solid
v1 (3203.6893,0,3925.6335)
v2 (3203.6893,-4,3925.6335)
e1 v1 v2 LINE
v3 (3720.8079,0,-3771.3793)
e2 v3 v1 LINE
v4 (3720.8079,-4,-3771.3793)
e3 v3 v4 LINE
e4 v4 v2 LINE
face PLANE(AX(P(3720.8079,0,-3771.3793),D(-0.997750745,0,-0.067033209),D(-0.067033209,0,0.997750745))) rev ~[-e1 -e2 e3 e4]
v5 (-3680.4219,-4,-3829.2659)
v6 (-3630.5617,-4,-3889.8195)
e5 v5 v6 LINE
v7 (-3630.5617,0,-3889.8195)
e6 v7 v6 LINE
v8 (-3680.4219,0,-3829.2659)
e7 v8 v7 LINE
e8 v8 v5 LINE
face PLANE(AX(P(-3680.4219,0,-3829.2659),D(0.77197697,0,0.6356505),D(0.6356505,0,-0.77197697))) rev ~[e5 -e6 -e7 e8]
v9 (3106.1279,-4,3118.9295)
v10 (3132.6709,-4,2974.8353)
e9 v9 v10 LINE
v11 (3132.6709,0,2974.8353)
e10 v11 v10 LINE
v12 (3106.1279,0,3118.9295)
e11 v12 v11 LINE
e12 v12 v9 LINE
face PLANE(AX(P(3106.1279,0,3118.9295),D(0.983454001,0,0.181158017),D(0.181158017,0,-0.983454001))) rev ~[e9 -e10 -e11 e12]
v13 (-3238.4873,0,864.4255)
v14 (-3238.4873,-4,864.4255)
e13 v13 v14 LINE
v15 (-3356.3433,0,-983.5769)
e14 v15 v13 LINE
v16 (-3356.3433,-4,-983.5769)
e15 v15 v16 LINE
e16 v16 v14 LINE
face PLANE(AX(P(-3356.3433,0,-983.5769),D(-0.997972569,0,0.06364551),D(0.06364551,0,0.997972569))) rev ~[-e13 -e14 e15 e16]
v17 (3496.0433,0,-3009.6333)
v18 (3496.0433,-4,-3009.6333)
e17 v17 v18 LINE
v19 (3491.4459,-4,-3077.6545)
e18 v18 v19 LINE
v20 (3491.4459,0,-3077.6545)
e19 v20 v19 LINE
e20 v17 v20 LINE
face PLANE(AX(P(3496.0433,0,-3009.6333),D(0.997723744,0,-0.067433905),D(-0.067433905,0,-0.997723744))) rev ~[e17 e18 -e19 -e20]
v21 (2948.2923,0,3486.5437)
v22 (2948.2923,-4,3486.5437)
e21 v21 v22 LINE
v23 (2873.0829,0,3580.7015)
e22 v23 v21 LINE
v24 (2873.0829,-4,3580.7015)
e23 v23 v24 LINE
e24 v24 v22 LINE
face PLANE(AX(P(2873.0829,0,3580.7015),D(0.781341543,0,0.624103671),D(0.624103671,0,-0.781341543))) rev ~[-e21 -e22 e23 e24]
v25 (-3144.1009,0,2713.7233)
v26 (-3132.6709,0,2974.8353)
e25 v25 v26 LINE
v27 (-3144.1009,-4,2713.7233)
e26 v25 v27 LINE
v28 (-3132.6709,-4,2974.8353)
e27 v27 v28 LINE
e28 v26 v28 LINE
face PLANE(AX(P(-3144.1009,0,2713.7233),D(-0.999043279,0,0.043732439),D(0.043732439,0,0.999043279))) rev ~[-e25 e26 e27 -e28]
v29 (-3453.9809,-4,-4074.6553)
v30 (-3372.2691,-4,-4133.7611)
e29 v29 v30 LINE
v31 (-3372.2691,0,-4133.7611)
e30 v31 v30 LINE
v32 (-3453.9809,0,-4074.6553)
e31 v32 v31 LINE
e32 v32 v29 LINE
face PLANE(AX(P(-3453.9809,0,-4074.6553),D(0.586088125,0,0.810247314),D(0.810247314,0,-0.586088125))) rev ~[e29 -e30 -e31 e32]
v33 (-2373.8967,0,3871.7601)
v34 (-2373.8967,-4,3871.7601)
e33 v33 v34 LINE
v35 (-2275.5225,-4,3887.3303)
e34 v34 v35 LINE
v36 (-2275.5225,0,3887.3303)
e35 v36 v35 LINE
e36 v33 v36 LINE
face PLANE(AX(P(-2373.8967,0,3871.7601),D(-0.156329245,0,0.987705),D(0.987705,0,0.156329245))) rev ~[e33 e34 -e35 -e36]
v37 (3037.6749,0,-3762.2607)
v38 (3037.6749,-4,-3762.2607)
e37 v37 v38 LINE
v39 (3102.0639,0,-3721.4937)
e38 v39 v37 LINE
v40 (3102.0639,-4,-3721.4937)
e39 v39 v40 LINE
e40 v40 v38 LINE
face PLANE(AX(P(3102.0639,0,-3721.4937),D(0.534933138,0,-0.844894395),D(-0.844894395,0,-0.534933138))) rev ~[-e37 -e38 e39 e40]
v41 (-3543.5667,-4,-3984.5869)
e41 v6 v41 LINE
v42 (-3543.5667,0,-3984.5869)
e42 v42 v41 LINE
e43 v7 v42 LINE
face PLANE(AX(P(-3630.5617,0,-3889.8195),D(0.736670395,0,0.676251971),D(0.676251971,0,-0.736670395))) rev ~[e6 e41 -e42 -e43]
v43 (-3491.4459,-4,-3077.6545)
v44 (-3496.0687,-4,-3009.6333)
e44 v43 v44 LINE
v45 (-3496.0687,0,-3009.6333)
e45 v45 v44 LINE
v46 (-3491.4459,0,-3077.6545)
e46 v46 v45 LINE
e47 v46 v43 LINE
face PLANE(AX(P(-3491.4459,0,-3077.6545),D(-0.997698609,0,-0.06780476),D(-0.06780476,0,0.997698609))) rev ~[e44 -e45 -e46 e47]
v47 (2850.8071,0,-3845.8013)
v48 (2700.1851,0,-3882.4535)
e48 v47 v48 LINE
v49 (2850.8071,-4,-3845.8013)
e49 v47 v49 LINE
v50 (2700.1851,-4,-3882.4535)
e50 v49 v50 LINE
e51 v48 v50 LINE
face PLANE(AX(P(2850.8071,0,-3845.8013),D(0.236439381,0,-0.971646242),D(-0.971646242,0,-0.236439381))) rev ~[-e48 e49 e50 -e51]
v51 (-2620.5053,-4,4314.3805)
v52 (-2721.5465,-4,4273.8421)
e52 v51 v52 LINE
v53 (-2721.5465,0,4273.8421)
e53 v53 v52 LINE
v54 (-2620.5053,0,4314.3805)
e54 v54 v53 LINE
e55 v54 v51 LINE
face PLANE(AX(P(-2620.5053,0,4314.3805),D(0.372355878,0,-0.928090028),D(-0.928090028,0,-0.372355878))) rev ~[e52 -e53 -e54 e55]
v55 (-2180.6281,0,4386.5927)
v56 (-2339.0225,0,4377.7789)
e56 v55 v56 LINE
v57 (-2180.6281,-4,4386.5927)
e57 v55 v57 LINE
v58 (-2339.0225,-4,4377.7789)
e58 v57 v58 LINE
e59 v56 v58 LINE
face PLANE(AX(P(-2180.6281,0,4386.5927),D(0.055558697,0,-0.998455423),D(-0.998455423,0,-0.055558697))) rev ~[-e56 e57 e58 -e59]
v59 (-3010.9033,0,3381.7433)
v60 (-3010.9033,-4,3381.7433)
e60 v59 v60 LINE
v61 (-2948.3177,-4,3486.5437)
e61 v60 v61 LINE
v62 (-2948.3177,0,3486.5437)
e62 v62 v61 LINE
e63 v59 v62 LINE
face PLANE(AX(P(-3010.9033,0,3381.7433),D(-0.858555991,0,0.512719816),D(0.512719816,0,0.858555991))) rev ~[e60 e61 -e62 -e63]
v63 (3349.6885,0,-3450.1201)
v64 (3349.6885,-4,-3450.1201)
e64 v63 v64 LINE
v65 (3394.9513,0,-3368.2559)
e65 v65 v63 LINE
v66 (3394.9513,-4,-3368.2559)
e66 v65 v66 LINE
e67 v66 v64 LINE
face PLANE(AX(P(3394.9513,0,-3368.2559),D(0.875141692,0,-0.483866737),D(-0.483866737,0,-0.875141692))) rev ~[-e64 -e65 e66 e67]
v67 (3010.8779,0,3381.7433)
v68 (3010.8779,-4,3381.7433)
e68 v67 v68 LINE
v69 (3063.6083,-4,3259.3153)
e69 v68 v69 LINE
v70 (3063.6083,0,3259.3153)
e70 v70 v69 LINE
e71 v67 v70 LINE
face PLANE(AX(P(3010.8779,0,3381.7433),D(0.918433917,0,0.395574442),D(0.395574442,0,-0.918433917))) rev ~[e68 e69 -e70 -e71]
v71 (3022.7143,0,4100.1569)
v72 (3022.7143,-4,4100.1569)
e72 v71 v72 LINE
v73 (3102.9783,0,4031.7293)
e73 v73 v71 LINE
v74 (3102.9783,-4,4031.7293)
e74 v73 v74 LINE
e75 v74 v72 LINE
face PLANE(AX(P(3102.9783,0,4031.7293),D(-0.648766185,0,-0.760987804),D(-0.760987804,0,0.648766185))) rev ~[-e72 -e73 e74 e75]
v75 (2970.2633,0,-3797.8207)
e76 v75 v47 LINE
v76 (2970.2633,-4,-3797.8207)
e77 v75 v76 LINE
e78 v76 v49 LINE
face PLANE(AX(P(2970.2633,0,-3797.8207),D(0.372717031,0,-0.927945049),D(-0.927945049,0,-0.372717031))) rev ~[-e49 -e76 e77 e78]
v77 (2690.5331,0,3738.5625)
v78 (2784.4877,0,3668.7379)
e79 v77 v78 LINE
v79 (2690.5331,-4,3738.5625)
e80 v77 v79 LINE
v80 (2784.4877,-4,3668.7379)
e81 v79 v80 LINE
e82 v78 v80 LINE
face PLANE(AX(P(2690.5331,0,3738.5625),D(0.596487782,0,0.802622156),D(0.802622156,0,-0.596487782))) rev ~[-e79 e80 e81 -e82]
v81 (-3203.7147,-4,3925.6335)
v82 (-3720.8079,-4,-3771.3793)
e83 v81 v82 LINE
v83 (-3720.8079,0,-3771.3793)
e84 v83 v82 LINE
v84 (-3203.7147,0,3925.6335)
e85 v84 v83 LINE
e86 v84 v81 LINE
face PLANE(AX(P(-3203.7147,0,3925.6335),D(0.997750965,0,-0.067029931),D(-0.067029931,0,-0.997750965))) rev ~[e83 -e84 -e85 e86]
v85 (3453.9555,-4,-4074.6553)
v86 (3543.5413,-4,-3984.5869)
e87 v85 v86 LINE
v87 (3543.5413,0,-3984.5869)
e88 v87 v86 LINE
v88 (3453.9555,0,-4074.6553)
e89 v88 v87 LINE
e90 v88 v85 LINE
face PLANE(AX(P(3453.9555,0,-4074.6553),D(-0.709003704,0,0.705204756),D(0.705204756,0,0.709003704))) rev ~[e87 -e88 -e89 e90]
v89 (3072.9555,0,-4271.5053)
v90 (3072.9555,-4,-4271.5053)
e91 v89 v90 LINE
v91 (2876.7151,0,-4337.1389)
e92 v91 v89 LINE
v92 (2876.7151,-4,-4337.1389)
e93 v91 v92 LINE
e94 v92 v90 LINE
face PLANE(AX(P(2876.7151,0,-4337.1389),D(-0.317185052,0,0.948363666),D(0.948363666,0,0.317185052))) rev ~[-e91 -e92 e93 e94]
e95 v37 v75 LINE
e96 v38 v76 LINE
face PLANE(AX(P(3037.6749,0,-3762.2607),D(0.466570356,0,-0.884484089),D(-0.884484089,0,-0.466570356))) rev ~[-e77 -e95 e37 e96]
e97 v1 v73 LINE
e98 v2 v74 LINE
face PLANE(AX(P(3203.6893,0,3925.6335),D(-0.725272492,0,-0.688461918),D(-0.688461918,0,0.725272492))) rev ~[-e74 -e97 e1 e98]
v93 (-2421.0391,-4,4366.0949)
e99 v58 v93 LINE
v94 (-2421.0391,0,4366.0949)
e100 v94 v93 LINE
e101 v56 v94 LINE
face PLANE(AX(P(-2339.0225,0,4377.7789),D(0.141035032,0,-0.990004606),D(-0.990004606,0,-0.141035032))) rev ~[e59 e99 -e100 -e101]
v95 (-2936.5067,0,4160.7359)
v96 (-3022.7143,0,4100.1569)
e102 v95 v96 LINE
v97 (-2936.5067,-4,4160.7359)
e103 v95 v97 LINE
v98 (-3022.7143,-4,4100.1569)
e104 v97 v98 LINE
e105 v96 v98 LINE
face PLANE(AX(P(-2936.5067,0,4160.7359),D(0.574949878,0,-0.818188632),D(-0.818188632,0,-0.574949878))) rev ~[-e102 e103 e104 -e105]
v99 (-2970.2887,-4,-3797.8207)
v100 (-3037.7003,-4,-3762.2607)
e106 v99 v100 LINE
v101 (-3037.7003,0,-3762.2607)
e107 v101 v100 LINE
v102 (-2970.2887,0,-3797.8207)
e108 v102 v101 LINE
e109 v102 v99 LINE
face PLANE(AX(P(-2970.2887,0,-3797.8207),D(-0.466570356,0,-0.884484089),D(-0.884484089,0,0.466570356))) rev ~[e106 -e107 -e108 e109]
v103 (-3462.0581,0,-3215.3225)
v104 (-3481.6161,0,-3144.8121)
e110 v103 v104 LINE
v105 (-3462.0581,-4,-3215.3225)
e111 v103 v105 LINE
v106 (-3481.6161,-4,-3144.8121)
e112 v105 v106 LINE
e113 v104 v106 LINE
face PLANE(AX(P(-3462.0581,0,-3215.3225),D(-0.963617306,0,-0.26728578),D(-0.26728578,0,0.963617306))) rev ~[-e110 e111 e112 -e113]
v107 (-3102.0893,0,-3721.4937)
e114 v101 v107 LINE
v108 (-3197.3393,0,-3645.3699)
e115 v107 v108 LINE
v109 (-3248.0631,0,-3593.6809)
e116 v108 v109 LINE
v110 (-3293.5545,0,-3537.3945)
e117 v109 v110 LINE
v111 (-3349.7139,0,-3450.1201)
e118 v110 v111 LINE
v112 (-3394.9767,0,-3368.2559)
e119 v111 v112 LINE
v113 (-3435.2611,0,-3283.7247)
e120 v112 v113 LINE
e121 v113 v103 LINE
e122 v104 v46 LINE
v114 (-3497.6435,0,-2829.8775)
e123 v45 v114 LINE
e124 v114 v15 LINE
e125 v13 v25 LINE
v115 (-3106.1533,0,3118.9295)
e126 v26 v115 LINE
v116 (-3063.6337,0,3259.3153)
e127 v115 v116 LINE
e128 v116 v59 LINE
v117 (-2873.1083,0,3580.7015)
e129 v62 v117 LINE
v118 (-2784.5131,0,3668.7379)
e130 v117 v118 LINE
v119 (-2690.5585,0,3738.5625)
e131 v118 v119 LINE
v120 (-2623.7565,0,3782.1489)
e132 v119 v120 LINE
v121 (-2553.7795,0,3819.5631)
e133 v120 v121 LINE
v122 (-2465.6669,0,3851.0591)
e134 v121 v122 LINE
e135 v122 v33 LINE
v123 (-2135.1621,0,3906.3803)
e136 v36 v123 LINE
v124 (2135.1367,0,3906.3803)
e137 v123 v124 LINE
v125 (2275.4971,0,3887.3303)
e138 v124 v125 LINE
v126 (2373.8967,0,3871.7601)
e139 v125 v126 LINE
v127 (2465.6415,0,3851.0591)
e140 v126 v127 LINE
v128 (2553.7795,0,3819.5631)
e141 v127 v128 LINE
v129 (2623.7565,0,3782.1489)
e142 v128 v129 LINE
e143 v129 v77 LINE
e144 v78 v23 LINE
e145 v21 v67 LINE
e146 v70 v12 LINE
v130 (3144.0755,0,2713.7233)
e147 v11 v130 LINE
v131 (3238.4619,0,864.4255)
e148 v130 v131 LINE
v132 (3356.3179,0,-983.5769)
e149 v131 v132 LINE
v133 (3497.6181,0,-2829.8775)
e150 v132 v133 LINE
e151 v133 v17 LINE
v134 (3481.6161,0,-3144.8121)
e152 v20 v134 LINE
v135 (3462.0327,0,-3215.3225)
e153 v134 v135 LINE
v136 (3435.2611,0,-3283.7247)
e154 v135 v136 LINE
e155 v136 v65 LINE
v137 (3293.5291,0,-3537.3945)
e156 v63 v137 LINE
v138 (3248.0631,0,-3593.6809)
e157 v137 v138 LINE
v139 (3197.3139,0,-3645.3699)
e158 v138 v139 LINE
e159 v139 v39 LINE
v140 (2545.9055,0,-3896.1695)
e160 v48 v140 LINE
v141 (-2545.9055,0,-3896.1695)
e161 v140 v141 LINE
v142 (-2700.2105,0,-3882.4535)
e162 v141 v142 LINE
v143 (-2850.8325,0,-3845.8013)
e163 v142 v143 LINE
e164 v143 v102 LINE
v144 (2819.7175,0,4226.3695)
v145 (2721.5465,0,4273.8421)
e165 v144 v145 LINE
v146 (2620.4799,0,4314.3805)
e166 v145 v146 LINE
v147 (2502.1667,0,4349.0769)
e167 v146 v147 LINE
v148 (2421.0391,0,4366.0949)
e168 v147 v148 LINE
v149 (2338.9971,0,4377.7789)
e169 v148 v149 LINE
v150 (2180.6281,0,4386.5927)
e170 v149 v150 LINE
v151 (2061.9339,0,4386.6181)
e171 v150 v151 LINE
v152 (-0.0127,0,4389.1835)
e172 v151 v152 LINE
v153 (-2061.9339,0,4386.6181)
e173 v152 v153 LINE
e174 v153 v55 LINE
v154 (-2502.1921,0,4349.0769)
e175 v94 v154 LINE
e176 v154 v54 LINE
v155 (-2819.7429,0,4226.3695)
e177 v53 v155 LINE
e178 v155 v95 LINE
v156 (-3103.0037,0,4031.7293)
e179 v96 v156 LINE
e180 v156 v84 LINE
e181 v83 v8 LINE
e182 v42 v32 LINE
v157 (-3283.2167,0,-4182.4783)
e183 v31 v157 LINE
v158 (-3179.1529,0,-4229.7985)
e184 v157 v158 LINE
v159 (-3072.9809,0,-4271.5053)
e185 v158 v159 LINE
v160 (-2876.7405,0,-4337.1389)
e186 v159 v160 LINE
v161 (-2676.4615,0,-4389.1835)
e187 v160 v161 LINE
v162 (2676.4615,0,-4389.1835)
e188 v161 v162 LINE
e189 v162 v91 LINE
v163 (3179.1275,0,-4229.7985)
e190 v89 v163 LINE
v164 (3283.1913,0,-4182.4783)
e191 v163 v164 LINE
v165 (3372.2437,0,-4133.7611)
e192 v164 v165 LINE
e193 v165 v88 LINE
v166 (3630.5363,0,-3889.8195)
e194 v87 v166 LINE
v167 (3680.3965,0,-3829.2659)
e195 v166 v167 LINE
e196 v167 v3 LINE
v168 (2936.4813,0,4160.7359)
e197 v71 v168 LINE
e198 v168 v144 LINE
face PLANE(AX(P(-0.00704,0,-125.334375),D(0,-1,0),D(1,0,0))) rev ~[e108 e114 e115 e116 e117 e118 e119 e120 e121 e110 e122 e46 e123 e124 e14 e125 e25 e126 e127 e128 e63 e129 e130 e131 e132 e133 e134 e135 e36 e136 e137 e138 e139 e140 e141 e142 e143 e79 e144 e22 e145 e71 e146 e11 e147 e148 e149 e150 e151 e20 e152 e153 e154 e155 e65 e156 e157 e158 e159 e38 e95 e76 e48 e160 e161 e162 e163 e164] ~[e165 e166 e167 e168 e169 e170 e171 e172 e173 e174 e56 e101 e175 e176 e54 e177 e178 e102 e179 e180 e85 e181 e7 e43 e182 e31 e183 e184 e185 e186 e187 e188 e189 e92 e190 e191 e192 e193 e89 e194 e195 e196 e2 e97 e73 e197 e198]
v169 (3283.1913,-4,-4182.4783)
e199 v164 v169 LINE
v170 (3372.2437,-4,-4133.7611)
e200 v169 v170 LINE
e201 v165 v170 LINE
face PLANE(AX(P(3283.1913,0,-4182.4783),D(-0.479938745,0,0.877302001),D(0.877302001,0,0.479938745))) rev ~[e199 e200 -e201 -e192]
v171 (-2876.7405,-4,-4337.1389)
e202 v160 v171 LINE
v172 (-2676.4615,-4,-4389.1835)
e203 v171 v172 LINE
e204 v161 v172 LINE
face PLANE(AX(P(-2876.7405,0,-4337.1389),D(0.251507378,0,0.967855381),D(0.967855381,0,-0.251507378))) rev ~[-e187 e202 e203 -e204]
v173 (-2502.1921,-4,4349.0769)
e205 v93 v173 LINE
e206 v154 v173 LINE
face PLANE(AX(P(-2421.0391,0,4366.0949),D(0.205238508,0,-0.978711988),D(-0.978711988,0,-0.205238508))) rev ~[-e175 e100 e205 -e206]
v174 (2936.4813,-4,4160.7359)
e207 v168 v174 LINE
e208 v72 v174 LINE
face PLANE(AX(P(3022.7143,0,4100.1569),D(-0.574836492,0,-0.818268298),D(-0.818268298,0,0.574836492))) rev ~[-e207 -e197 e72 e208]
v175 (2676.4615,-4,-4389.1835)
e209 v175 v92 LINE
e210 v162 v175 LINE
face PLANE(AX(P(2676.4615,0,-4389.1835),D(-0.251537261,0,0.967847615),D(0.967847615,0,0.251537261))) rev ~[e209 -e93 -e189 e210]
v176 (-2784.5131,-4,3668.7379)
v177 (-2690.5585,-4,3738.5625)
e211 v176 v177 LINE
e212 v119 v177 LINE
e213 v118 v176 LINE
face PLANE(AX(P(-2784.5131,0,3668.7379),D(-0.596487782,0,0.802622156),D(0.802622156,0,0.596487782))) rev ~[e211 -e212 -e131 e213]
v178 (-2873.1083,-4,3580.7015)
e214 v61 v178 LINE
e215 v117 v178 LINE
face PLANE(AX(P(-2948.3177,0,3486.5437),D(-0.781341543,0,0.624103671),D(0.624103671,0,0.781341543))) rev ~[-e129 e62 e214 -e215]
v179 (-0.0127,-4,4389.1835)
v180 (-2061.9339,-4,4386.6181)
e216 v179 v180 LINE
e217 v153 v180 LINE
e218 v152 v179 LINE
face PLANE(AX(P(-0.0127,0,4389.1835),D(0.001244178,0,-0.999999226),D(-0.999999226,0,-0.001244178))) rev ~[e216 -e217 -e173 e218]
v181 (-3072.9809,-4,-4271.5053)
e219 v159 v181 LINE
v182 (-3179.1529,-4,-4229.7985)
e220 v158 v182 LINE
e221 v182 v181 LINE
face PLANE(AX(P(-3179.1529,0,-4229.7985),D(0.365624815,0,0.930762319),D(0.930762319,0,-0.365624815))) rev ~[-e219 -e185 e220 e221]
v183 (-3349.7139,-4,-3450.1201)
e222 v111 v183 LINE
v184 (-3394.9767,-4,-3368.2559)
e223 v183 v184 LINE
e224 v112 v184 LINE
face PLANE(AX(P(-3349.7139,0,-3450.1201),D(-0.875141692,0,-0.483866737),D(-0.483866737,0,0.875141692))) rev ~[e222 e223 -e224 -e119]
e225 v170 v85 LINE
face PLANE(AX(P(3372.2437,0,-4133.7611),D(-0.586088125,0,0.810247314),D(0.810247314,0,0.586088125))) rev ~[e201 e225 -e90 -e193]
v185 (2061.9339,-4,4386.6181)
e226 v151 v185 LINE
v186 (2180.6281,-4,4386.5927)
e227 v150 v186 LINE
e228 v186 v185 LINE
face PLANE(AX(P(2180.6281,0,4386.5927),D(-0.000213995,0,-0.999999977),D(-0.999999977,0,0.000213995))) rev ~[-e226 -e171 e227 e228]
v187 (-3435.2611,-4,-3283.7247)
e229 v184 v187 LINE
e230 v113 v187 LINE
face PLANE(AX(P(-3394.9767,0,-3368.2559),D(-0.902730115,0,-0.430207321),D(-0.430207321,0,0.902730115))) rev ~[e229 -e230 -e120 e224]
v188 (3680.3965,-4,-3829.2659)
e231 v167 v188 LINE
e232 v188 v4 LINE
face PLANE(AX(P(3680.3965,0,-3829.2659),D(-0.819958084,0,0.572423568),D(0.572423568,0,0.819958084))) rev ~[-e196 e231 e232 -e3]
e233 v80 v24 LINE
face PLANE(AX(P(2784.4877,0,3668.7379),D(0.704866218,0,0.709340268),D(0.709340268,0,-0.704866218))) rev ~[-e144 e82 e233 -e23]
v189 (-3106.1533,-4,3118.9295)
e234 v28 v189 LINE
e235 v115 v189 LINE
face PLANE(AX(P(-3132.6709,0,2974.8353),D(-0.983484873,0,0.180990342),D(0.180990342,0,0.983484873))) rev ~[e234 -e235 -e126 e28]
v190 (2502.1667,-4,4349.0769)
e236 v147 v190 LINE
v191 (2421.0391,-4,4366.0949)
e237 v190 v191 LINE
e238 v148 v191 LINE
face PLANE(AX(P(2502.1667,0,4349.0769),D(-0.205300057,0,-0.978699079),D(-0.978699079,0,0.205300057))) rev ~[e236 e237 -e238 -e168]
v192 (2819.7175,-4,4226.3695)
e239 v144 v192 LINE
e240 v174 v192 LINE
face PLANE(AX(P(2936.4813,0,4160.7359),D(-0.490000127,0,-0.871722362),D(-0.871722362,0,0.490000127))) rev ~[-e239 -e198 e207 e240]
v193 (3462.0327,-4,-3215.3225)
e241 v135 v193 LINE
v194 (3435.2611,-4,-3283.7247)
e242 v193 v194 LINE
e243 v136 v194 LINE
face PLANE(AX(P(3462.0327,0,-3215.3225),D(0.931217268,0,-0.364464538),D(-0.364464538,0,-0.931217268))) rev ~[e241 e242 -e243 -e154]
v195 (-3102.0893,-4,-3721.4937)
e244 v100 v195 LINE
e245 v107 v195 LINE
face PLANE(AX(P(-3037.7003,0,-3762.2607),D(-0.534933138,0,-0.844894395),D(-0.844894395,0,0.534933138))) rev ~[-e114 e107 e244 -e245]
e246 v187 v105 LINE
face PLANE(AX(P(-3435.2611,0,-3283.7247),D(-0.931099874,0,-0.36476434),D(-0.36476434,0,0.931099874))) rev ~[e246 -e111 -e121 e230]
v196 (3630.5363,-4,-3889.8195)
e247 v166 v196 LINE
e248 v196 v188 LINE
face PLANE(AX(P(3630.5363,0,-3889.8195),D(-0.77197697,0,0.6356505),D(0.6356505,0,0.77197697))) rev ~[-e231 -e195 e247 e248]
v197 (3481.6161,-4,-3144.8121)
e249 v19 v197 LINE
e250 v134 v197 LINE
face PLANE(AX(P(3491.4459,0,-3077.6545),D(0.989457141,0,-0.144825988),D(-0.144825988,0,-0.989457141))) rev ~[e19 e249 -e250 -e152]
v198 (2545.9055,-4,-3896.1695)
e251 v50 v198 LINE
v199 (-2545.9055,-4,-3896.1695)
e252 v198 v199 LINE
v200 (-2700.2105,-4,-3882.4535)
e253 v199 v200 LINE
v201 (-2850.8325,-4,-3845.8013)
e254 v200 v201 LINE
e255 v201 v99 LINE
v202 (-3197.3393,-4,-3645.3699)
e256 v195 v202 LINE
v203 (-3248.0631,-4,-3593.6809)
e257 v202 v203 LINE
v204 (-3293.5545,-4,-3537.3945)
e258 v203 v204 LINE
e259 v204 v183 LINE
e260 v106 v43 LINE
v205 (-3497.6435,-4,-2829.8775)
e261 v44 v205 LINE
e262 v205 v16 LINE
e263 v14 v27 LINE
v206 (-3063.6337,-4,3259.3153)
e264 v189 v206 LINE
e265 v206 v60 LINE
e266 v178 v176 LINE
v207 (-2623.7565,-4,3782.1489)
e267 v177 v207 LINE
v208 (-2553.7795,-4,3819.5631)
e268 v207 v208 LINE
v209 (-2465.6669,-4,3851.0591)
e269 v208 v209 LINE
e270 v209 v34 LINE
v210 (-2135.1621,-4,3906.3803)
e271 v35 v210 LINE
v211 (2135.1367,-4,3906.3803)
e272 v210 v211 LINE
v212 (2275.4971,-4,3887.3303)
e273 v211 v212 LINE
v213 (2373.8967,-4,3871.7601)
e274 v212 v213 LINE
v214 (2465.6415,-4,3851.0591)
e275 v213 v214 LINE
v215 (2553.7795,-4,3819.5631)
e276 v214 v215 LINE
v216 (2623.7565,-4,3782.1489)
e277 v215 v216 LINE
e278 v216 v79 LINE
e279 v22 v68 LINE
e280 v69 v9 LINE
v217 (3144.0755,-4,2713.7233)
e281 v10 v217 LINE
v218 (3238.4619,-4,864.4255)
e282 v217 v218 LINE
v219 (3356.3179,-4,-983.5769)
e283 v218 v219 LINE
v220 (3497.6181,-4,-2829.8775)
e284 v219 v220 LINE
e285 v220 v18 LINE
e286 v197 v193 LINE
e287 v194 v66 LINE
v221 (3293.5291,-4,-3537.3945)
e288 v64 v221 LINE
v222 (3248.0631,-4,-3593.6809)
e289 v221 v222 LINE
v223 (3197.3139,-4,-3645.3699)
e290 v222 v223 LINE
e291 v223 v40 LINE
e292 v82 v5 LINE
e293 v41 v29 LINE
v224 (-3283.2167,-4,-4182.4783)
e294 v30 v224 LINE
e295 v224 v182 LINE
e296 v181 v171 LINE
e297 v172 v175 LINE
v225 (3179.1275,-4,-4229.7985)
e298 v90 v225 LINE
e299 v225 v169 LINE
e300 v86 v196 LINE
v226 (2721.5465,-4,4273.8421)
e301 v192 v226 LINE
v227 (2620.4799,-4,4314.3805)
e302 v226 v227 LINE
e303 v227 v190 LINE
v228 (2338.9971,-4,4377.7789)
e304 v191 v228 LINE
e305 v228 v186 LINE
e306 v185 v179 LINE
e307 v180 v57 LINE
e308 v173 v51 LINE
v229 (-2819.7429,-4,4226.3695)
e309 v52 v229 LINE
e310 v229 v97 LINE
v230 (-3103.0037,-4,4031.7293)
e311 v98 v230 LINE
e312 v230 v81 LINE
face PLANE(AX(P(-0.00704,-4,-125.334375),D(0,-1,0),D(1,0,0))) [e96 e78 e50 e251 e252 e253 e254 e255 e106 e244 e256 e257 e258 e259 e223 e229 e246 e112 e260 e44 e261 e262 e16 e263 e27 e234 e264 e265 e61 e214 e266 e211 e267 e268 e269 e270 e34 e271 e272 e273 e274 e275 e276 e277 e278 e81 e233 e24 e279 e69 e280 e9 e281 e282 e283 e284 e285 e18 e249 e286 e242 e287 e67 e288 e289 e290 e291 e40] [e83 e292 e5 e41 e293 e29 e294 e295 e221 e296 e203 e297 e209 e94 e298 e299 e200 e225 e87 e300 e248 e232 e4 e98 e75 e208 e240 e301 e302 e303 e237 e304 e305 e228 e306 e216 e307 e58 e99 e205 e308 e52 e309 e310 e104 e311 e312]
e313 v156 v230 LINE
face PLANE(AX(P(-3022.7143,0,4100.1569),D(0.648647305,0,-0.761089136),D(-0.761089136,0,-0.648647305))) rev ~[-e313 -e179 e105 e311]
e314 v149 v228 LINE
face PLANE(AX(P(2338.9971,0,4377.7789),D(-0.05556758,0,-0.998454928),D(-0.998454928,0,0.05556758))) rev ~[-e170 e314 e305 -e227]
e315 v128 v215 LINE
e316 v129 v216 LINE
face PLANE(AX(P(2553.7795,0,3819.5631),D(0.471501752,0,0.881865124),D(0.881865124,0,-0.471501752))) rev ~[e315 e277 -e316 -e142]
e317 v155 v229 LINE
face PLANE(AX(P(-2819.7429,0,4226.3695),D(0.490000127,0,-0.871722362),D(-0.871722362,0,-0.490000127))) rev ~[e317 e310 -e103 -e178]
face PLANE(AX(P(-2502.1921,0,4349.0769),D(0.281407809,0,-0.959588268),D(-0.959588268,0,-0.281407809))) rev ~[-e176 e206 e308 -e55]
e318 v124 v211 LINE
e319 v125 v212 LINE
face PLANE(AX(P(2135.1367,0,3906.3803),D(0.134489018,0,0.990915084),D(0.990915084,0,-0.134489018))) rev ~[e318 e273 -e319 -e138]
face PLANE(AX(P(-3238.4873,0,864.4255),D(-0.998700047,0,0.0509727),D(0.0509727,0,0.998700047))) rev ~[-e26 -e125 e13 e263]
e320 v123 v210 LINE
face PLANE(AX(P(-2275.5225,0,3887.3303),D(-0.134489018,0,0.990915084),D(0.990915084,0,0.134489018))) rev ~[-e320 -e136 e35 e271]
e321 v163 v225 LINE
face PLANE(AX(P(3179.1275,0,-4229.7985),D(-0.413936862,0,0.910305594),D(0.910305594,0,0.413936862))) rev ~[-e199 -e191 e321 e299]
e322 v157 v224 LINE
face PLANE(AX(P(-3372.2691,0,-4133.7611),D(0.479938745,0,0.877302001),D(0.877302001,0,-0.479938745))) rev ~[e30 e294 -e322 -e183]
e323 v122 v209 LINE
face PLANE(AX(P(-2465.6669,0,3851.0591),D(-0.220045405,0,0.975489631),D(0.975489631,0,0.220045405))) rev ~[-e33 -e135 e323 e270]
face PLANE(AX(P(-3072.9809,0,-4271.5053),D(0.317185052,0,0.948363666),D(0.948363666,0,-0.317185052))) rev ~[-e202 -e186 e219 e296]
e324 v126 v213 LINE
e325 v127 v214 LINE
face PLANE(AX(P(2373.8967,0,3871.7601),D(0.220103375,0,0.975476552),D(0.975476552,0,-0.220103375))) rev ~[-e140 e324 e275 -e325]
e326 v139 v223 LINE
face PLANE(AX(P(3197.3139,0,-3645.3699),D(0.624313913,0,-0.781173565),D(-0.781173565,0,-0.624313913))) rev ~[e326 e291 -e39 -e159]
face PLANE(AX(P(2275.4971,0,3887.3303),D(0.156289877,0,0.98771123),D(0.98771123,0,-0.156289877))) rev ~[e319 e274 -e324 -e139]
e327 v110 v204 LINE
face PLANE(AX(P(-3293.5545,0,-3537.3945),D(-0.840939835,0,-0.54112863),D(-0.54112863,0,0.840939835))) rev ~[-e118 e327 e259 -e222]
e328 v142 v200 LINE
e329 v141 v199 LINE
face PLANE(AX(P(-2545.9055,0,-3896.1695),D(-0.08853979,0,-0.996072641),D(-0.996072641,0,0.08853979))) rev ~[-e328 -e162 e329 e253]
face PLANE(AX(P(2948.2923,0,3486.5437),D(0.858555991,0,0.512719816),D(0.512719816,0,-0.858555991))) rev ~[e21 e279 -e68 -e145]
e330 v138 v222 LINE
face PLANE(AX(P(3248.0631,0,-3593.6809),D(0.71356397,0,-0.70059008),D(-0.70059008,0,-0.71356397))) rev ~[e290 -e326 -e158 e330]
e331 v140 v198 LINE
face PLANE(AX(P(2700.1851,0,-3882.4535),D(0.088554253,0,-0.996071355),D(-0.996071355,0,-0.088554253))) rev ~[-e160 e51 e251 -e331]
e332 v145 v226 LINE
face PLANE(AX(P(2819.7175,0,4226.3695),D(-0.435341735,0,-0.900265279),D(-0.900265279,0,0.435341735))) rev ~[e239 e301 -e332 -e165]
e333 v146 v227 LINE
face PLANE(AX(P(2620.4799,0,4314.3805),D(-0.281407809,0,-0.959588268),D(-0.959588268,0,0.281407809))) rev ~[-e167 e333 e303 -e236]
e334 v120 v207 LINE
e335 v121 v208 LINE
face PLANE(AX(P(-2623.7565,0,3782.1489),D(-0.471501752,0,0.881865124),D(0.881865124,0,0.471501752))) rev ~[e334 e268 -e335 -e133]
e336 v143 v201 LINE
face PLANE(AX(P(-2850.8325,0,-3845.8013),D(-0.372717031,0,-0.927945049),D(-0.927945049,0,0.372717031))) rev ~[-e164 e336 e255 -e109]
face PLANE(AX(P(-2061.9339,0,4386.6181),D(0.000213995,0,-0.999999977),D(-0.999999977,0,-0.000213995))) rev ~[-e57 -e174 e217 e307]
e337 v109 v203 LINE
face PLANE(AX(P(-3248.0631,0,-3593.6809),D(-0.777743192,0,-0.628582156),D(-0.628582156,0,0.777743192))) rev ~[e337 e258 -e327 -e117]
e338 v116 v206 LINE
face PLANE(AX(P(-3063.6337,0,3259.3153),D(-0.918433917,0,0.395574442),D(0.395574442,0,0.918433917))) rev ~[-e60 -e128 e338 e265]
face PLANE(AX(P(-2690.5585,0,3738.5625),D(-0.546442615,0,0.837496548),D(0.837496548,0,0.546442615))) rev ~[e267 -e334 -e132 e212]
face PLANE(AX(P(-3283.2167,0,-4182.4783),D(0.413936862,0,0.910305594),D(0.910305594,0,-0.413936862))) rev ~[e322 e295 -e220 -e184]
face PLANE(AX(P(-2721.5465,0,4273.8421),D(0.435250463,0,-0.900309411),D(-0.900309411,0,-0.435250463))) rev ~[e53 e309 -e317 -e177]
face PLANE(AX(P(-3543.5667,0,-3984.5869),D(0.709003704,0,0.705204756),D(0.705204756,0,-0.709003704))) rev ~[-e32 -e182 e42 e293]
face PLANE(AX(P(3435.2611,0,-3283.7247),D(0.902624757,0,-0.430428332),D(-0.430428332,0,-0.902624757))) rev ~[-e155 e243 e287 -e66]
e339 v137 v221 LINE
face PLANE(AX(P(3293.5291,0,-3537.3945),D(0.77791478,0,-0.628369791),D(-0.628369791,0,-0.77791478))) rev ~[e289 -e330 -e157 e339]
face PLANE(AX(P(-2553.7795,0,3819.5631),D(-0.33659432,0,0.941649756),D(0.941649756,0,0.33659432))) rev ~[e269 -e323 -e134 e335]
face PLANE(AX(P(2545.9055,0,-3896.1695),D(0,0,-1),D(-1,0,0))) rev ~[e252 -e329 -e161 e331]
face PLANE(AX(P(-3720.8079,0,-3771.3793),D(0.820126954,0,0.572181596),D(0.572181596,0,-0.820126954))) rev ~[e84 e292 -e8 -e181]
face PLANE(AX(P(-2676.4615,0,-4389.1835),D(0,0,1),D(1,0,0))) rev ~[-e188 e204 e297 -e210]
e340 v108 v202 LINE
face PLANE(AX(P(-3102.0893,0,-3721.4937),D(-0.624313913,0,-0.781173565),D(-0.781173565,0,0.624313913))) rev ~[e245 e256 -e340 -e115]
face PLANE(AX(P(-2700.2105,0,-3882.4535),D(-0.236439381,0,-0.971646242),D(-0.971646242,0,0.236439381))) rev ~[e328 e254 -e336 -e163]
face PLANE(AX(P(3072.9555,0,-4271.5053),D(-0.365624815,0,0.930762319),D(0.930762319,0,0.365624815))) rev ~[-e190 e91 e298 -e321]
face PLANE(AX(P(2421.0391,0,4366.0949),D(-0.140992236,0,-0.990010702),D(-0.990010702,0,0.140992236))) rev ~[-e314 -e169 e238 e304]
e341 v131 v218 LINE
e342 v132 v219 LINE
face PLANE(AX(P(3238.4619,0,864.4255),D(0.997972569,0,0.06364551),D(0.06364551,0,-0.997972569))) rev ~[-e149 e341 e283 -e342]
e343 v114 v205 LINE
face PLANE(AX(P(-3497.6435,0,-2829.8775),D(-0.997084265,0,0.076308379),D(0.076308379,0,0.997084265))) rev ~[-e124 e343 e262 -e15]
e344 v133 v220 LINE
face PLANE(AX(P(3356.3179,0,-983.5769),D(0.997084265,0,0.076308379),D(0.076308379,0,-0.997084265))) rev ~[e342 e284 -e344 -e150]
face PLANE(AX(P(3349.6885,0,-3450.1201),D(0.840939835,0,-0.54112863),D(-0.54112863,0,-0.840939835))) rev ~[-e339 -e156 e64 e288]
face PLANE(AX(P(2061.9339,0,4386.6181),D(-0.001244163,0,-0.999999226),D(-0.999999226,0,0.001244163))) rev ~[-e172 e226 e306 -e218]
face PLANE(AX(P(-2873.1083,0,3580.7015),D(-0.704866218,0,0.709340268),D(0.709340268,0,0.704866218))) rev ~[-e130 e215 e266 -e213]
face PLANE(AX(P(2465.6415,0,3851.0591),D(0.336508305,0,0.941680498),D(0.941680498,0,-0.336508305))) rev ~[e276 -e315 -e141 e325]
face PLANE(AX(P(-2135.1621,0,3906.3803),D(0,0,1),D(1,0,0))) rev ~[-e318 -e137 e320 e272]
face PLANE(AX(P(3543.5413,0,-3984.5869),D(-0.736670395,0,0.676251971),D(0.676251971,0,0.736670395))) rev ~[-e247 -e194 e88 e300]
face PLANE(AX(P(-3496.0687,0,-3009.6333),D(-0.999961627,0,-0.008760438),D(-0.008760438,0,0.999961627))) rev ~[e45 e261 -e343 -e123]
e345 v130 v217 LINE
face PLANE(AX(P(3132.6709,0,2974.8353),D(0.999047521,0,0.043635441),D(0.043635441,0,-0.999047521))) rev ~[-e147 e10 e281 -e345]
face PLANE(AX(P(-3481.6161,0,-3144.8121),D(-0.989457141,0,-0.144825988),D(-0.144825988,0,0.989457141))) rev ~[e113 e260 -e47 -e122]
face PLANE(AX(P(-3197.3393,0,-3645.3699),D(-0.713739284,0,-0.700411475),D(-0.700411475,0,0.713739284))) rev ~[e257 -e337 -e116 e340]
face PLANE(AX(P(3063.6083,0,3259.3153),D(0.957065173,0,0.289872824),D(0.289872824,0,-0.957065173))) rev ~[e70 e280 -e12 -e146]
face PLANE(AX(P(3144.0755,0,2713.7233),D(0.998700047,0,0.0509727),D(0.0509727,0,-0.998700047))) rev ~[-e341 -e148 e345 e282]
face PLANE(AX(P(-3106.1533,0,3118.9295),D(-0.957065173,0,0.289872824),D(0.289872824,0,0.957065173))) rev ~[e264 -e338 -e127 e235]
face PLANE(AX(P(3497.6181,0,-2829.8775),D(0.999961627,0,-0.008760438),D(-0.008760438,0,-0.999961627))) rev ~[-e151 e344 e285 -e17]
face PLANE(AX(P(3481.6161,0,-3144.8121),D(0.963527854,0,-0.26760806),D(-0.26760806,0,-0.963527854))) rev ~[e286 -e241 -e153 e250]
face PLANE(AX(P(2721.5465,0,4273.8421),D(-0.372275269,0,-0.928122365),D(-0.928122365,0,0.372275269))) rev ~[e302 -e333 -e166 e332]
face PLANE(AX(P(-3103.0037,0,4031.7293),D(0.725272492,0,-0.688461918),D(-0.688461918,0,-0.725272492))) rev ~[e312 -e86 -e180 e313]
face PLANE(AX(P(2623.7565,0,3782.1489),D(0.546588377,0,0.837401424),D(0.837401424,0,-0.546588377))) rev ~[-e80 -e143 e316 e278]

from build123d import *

# Parameters (mm, degrees)
F1_DEPTH = 4


with BuildPart() as f1:
    # F0 (on Front) → F1 (new body)
    with BuildSketch(Plane.XZ):
        Polygon((-3103.0037, 4031.7293), (-3203.7147, 3925.6335), (-3720.8079, -3771.3793), (-3680.4219, -3829.2659), (-3630.5617, -3889.8195), (-3543.5667, -3984.5869), (-3453.9809, -4074.6553), (-3372.2691, -4133.7611), (-3283.2167, -4182.4783), (-3179.1529, -4229.7985), (-3072.9809, -4271.5053), (-2876.7405, -4337.1389), (-2676.4615, -4389.1835), (-0.0127, -4389.1835), (2676.4615, -4389.1835), (2876.7151, -4337.1389), (3072.9555, -4271.5053), (3179.1275, -4229.7985), (3283.1913, -4182.4783), (3372.2437, -4133.7611), (3453.9555, -4074.6553), (3543.5413, -3984.5869), (3630.5363, -3889.8195), (3680.3965, -3829.2659), (3720.8079, -3771.3793), (3203.6893, 3925.6335), (3102.9783, 4031.7293), (3022.7143, 4100.1569), (2936.4813, 4160.7359), (2819.7175, 4226.3695), (2721.5465, 4273.8421), (2620.4799, 4314.3805), (2502.1667, 4349.0769), (2421.0391, 4366.0949), (2338.9971, 4377.7789), (2180.6281, 4386.5927), (2061.9339, 4386.6181), (-0.0127, 4389.1835), (-2061.9339, 4386.6181), (-2180.6281, 4386.5927), (-2339.0225, 4377.7789), (-2421.0391, 4366.0949), (-2502.1921, 4349.0769), (-2620.5053, 4314.3805), (-2721.5465, 4273.8421), (-2819.7429, 4226.3695), (-2936.5067, 4160.7359), (-3022.7143, 4100.1569), align=None)
        Polygon((-3144.1009, 2713.7233), (-3132.6709, 2974.8353), (-3106.1533, 3118.9295), (-3063.6337, 3259.3153), (-3010.9033, 3381.7433), (-2948.3177, 3486.5437), (-2873.1083, 3580.7015), (-2784.5131, 3668.7379), (-2690.5585, 3738.5625), (-2623.7565, 3782.1489), (-2553.7795, 3819.5631), (-2465.6669, 3851.0591), (-2373.8967, 3871.7601), (-2275.5225, 3887.3303), (-2135.1621, 3906.3803), (-0.0127, 3906.3803), (2135.1367, 3906.3803), (2275.4971, 3887.3303), (2373.8967, 3871.7601), (2465.6415, 3851.0591), (2553.7795, 3819.5631), (2623.7565, 3782.1489), (2690.5331, 3738.5625), (2784.4877, 3668.7379), (2873.0829, 3580.7015), (2948.2923, 3486.5437), (3010.8779, 3381.7433), (3063.6083, 3259.3153), (3106.1279, 3118.9295), (3132.6709, 2974.8353), (3144.0755, 2713.7233), (3238.4619, 864.4255), (3356.3179, -983.5769), (3497.6181, -2829.8775), (3496.0433, -3009.6333), (3491.4459, -3077.6545), (3481.6161, -3144.8121), (3462.0327, -3215.3225), (3435.2611, -3283.7247), (3394.9513, -3368.2559), (3349.6885, -3450.1201), (3293.5291, -3537.3945), (3248.0631, -3593.6809), (3197.3139, -3645.3699), (3102.0639, -3721.4937), (3037.6749, -3762.2607), (2970.2633, -3797.8207), (2850.8071, -3845.8013), (2700.1851, -3882.4535), (2545.9055, -3896.1695), (-0.0127, -3896.1695), (-2545.9055, -3896.1695), (-2700.2105, -3882.4535), (-2850.8325, -3845.8013), (-2970.2887, -3797.8207), (-3037.7003, -3762.2607), (-3102.0893, -3721.4937), (-3197.3393, -3645.3699), (-3248.0631, -3593.6809), (-3293.5545, -3537.3945), (-3349.7139, -3450.1201), (-3394.9767, -3368.2559), (-3435.2611, -3283.7247), (-3462.0581, -3215.3225), (-3481.6161, -3144.8121), (-3491.4459, -3077.6545), (-3496.0687, -3009.6333), (-3497.6435, -2829.8775), (-3356.3433, -983.5769), (-3238.4873, 864.4255), align=None, mode=Mode.SUBTRACT)
    extrude(amount=F1_DEPTH)


solid = f1.part
